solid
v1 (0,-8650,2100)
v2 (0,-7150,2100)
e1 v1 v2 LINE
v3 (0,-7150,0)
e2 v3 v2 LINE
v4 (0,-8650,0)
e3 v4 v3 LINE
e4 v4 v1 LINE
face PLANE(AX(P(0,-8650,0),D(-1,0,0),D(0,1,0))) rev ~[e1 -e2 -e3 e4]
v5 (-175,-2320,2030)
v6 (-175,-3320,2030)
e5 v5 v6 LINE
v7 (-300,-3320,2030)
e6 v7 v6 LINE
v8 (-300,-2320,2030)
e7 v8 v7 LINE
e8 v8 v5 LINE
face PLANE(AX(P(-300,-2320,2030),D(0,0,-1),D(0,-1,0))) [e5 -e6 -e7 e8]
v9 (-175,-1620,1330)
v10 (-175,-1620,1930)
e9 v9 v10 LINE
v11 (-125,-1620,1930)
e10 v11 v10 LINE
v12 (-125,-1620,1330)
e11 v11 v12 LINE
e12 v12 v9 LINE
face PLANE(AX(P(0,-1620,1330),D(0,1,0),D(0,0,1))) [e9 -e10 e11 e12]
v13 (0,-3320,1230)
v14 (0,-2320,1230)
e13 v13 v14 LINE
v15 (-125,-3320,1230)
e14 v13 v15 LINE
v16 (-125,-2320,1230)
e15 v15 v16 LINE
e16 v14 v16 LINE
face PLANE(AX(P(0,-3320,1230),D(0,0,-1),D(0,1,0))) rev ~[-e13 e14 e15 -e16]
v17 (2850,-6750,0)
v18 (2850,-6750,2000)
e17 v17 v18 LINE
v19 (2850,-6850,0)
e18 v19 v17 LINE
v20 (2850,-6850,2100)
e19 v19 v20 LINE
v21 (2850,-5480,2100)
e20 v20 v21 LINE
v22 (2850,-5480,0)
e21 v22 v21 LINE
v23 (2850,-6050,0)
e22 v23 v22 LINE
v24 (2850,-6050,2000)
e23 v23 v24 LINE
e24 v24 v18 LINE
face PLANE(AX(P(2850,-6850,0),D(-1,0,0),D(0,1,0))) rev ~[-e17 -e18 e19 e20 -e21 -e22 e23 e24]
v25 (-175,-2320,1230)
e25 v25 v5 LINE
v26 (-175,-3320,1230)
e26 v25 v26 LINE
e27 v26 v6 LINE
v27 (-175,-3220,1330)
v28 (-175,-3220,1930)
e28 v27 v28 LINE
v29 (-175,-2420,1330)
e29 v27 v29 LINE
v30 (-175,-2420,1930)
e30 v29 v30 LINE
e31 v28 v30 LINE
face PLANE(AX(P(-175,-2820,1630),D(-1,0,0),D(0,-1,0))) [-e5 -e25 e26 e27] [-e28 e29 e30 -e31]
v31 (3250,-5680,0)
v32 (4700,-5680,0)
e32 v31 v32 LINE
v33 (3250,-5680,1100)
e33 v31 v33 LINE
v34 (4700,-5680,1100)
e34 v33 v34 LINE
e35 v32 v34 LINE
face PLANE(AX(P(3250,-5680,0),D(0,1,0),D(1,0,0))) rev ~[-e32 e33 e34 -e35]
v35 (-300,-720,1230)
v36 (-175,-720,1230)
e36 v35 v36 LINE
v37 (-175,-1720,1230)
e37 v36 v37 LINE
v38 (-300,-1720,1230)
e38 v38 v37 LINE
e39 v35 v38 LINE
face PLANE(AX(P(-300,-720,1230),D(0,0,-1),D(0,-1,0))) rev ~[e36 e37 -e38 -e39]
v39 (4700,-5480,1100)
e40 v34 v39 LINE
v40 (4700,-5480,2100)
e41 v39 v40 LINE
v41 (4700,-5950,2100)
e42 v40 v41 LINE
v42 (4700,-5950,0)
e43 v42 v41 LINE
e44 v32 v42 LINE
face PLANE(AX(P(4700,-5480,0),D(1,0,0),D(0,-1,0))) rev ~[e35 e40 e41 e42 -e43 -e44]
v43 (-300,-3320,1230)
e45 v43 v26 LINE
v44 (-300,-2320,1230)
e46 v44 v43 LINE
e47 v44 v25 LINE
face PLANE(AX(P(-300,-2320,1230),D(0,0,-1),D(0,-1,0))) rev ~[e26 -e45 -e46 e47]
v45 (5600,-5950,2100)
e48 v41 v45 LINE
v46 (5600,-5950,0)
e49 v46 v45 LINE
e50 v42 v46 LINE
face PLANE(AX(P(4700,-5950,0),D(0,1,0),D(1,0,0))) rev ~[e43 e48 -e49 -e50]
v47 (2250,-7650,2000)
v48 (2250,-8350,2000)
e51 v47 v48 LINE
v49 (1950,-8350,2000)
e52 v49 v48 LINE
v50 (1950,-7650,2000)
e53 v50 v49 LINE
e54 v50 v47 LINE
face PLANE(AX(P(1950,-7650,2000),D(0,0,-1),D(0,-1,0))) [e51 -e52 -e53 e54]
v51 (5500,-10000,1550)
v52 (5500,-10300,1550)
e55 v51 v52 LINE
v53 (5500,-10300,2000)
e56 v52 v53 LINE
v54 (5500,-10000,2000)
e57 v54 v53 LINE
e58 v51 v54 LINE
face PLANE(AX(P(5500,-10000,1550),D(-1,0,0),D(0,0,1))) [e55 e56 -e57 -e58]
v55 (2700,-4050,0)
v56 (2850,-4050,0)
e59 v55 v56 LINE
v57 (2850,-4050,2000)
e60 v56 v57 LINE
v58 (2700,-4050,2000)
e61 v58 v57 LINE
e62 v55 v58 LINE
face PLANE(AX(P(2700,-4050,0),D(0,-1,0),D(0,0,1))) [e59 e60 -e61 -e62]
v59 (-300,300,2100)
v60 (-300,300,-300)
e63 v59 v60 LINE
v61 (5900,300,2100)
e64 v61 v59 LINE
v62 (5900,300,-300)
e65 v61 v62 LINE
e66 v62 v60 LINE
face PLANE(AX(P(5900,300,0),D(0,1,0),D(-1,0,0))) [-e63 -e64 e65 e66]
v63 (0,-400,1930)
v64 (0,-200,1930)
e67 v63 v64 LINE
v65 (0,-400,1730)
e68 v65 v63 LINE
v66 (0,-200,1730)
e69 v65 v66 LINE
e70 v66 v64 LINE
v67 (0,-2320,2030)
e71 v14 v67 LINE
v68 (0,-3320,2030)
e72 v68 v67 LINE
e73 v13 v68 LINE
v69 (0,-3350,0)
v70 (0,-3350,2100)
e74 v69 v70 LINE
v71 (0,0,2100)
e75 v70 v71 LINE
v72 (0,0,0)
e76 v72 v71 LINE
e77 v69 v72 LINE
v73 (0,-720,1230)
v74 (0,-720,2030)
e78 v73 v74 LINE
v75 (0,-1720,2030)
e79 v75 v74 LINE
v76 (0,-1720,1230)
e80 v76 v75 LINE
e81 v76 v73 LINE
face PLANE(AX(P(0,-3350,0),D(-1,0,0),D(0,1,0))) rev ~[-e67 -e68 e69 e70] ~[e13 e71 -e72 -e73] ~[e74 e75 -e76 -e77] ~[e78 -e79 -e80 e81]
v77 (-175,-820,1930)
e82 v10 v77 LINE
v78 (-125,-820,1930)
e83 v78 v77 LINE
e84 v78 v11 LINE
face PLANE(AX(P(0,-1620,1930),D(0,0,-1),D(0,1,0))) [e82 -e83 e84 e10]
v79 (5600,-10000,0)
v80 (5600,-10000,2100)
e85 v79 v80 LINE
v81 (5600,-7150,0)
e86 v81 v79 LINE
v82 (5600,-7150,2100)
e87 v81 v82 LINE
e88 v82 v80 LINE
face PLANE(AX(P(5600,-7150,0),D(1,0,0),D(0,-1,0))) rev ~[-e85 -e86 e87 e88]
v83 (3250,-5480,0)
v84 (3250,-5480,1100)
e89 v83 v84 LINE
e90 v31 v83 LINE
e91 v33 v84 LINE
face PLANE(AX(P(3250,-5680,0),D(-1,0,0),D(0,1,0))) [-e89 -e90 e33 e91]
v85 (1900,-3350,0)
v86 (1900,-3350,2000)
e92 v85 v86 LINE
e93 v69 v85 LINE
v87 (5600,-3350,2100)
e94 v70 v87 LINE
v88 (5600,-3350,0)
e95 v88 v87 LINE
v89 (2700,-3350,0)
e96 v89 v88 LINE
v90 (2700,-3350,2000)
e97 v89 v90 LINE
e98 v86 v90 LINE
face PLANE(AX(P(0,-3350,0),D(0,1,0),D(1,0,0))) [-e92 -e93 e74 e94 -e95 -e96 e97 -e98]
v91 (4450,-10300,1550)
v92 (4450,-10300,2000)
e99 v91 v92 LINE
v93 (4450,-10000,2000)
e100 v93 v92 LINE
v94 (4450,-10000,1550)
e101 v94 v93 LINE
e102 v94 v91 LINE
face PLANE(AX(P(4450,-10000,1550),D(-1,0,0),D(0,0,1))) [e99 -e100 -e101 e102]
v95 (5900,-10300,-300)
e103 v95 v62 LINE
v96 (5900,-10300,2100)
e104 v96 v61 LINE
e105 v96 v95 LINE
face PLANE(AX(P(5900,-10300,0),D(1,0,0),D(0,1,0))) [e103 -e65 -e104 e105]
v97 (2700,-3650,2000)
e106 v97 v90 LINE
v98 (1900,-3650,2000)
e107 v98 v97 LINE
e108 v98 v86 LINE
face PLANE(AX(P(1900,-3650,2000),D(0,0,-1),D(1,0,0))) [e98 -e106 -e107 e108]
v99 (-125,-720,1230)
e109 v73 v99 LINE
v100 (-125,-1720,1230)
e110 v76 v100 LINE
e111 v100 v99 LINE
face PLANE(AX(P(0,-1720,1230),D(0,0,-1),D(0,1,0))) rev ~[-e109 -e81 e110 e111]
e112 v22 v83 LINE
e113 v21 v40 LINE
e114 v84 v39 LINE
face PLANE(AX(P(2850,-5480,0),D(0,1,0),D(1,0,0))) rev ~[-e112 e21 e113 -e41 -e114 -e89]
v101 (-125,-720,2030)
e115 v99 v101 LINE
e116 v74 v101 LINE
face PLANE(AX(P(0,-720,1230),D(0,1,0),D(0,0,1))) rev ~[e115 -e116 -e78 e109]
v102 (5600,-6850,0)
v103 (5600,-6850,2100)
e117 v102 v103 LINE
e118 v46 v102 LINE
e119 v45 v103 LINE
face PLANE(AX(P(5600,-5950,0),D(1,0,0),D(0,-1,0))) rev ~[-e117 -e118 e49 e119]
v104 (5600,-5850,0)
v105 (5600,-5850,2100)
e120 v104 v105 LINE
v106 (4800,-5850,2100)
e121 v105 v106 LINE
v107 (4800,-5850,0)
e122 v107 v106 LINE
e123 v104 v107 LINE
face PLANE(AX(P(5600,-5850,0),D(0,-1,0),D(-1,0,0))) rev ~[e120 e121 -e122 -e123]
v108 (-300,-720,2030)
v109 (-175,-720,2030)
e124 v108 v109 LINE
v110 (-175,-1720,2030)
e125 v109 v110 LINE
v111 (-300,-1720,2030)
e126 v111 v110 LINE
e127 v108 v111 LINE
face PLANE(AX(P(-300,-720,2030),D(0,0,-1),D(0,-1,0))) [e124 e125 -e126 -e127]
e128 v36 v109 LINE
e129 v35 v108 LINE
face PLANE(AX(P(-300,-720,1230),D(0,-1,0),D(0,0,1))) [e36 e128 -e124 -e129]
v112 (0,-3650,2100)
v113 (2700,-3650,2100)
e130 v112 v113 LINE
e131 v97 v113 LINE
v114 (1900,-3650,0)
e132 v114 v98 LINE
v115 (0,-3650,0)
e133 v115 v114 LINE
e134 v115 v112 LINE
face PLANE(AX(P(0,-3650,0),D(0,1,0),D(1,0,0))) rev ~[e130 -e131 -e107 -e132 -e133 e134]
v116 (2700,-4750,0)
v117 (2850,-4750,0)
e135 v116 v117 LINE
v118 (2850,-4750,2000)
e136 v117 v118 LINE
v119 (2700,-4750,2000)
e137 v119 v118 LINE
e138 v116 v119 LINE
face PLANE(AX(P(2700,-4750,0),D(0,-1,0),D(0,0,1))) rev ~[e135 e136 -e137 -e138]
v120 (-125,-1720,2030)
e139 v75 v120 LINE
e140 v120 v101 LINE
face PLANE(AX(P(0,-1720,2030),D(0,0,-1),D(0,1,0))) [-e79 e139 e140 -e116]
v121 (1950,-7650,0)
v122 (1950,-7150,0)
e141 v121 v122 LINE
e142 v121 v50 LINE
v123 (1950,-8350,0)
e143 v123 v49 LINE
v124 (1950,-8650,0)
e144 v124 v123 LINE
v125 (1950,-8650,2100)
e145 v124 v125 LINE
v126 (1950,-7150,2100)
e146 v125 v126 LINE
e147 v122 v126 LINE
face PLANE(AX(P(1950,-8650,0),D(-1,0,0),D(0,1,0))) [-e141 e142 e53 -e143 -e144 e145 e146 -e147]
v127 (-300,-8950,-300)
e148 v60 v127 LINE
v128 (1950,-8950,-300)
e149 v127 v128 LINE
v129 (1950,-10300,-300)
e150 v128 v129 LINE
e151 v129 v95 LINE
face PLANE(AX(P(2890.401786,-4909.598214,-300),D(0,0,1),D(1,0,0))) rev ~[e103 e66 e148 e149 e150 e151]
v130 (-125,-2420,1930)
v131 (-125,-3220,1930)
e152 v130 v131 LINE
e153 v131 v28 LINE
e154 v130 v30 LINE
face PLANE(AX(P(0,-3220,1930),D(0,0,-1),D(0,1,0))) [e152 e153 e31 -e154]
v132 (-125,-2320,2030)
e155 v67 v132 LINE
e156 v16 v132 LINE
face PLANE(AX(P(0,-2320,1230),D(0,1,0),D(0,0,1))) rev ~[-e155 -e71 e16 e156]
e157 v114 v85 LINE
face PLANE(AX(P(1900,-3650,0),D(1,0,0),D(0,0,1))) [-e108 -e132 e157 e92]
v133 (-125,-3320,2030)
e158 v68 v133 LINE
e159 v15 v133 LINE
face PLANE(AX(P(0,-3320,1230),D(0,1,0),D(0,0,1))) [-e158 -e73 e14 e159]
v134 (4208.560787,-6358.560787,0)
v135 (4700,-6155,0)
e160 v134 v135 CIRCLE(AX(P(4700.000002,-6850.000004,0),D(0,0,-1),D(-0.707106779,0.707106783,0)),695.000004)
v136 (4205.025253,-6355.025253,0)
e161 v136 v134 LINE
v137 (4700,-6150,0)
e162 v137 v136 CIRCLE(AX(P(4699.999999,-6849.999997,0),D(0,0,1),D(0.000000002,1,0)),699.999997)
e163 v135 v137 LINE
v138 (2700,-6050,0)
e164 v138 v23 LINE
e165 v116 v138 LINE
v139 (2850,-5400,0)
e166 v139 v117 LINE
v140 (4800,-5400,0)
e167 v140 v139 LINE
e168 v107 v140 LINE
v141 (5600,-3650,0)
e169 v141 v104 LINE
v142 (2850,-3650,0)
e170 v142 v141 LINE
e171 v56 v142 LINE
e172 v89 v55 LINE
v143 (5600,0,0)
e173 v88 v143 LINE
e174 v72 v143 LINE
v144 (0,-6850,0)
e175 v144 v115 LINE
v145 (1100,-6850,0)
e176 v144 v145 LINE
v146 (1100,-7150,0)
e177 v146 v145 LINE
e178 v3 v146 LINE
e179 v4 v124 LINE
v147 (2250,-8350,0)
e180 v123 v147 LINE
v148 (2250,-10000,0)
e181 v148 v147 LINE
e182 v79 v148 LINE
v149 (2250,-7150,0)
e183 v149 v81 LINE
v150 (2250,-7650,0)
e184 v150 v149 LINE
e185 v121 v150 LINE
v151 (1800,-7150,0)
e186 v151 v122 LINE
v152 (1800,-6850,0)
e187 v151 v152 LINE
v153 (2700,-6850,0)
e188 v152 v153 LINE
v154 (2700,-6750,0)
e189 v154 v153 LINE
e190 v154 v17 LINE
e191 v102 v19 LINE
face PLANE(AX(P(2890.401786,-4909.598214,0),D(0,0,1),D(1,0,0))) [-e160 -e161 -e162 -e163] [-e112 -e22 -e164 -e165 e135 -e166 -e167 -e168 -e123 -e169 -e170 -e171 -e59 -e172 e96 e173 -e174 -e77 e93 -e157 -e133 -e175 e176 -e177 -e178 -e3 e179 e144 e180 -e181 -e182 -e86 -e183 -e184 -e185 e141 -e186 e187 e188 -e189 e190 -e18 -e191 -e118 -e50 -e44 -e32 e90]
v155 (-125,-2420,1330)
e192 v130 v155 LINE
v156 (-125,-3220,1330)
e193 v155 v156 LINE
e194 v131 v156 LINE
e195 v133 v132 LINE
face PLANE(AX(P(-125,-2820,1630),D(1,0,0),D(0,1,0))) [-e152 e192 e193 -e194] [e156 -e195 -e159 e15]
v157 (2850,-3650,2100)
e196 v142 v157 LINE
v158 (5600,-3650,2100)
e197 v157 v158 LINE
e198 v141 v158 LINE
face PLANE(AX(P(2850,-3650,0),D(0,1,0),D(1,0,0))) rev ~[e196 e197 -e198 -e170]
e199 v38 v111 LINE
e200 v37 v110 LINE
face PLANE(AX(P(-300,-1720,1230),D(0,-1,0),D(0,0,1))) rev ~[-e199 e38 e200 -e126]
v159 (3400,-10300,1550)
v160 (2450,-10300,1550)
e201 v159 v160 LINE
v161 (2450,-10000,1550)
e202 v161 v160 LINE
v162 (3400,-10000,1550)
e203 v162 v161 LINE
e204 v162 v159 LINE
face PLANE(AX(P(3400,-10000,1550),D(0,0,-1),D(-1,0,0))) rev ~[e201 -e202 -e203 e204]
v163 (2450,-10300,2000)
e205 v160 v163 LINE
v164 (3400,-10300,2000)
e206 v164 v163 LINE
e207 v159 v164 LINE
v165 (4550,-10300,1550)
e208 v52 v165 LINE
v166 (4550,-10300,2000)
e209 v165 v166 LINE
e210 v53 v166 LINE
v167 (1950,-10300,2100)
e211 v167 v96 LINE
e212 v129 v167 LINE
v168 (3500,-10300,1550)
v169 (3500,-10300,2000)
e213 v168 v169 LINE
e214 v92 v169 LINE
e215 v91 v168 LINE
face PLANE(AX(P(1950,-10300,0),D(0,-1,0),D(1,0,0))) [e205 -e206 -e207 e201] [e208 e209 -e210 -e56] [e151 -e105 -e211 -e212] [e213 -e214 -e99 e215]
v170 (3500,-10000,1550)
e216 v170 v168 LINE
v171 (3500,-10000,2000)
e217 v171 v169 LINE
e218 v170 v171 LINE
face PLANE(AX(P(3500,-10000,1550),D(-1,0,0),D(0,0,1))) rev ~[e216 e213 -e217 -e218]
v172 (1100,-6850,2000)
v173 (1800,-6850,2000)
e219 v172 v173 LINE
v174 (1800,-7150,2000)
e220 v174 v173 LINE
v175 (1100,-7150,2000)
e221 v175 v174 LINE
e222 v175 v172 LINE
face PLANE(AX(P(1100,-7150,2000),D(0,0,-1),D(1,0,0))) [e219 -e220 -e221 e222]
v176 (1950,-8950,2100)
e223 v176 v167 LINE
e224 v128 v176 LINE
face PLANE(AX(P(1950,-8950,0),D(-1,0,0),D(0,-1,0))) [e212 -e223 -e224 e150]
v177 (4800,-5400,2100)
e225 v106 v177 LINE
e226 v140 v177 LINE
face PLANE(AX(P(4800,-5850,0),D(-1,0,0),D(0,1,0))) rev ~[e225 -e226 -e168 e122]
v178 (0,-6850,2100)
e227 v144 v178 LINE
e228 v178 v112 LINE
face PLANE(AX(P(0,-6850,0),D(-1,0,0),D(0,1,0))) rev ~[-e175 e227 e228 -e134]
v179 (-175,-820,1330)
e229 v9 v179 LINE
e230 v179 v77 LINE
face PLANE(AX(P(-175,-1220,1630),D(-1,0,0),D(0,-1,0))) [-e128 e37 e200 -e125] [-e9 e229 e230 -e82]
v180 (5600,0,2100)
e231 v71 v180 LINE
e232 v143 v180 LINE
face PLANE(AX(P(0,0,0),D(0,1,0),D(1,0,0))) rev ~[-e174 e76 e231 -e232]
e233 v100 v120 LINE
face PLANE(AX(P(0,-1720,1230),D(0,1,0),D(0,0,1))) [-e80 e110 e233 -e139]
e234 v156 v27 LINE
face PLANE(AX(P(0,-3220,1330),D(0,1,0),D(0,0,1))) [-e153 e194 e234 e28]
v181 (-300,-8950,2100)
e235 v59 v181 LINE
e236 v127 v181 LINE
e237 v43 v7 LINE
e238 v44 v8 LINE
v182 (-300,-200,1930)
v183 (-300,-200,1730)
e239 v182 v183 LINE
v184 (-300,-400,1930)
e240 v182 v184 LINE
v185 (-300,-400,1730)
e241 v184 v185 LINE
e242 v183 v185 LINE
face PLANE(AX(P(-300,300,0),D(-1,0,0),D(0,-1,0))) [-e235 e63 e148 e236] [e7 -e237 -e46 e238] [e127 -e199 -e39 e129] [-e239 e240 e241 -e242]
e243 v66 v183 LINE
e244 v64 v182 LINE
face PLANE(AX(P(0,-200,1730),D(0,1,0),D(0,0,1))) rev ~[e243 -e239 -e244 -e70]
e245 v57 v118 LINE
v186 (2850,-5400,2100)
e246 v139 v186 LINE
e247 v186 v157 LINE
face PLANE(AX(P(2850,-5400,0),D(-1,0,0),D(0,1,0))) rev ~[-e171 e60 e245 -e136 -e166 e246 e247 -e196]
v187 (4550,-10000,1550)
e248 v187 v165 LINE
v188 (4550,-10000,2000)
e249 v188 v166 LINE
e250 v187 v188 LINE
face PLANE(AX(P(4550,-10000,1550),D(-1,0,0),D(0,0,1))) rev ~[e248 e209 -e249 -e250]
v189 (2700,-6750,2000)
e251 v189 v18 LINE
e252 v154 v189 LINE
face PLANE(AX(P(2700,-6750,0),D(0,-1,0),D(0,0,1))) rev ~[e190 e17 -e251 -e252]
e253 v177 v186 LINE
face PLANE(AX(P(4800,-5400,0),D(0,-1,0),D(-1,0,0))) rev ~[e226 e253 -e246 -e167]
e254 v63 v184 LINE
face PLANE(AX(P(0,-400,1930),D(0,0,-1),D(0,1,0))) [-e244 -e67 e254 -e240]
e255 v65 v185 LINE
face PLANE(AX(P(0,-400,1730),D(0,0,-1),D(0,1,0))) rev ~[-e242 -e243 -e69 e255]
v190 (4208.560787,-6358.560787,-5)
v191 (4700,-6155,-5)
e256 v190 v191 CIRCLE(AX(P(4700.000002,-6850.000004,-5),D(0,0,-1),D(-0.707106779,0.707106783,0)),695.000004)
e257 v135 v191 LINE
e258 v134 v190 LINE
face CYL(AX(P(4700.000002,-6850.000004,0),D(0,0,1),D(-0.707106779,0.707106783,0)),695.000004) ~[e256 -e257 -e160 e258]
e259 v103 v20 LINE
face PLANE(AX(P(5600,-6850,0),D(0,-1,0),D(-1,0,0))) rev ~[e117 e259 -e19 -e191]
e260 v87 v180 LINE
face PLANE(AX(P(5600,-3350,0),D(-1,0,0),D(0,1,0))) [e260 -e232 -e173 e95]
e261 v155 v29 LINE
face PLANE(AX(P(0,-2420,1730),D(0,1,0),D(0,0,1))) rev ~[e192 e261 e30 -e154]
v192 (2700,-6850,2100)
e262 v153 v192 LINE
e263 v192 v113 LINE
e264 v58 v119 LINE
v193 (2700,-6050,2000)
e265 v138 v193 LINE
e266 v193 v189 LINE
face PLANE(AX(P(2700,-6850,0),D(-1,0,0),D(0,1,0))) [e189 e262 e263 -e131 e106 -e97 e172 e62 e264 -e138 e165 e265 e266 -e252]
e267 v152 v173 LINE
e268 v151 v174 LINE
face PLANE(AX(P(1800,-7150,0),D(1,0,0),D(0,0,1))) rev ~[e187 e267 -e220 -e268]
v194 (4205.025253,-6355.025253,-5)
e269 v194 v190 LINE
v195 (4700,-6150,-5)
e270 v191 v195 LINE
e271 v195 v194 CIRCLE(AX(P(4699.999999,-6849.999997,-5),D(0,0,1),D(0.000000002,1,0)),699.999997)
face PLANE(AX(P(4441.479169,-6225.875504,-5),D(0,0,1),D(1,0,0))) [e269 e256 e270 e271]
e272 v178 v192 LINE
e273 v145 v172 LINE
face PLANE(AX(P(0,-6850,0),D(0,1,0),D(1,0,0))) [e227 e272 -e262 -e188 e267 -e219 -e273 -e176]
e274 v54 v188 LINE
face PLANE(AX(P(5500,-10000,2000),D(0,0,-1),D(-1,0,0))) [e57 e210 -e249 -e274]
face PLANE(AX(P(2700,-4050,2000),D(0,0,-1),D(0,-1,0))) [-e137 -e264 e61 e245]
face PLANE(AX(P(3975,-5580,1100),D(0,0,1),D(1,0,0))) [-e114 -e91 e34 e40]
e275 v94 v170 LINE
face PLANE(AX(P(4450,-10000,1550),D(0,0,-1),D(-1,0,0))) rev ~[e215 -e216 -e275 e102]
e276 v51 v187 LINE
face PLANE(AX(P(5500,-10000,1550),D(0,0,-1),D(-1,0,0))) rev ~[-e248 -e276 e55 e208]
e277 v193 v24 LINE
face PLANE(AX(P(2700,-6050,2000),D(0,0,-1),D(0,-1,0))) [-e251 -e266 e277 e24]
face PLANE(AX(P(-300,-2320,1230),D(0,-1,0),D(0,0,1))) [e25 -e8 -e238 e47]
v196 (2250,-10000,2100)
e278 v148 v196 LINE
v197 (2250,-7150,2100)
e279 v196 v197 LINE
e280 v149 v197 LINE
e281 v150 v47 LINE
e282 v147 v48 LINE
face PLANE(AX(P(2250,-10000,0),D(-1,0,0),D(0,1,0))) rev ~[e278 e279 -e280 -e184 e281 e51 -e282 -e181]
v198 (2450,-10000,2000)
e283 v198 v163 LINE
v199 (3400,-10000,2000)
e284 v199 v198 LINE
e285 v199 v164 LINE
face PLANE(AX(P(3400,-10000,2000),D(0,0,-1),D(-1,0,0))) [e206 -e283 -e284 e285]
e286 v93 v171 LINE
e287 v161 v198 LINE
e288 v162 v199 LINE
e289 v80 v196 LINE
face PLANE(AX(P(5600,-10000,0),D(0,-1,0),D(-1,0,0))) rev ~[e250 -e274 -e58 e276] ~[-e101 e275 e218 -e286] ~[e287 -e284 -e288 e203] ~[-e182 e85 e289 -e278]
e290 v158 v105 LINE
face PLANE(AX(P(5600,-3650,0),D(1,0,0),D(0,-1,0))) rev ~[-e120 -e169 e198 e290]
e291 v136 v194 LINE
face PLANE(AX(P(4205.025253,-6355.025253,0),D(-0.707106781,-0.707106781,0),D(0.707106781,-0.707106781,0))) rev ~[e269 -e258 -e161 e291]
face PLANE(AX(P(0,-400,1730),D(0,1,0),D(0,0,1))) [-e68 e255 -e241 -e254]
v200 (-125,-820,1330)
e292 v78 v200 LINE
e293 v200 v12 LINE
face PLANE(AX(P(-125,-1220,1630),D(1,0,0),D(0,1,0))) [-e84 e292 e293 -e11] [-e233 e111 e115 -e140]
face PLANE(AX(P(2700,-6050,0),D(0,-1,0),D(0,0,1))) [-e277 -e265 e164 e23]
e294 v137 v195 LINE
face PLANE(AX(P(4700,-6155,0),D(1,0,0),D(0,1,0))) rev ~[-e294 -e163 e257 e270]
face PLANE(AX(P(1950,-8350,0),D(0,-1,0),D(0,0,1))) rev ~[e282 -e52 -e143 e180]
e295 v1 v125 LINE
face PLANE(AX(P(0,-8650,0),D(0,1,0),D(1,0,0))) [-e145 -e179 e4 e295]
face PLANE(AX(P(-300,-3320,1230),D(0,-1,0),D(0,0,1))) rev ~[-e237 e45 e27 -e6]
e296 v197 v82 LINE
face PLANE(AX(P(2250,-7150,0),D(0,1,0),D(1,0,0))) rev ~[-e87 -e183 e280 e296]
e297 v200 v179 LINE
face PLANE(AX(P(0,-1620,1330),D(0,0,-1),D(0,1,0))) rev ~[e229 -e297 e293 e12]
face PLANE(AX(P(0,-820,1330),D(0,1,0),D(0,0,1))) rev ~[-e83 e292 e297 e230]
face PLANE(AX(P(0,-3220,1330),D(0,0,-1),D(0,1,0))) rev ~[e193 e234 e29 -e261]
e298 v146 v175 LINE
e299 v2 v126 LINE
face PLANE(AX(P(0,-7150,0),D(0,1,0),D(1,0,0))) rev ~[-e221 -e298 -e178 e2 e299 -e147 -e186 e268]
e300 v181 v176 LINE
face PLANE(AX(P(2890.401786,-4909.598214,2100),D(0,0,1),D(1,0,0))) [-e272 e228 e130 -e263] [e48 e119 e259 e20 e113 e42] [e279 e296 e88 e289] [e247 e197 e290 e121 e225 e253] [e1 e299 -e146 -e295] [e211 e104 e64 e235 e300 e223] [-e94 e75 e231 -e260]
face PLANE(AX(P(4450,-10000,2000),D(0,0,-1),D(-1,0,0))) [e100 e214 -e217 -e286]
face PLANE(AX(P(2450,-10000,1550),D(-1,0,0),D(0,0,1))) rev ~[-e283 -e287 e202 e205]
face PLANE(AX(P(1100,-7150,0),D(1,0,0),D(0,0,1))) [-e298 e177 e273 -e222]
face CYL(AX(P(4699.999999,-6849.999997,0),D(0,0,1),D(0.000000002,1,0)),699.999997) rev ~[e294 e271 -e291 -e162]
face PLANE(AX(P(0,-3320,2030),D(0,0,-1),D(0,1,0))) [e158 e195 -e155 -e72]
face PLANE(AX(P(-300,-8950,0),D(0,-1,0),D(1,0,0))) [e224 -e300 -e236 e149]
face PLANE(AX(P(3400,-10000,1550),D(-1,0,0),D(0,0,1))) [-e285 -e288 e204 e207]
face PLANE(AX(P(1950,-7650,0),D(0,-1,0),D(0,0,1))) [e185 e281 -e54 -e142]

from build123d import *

# Parameters (mm, degrees)
F0_W      = 1950
F0_H      = 1500
F0_W_2    = 2700
F0_H_2    = 3200
F0_W_3    = 5600
F0_H_3    = 3350
F1_DEPTH  = 2100
F3_DEPTH  = 300
F4_W      = 950
F4_H      = 450
F5_DEPTH  = 300
F6_W      = 700
F6_H      = 2000
F7_DEPTH  = 300
F8_W      = 700
F8_H      = 2000
F9_DEPTH  = 300
F10_W     = 800
F10_H     = 2000
F11_DEPTH = 300
F12_W     = 700
F12_H     = 2000
F13_DEPTH = 150
F14_W     = 800
F14_H     = 200
F14_W_2   = 200
F15_DEPTH = 300.001
F16_W     = 800
F16_H     = 600
F16_W_2   = 200
F16_H_2   = 200
F17_DEPTH = 300.001
F18_W     = 1000
F18_H     = 800
F19_DEPTH = 125
F20_W     = 1000
F20_H     = 800
F21_DEPTH = 125
F22_W     = 1450
F22_H     = 200
F23_DEPTH = 1100
F25_DEPTH = 5


with BuildPart() as f1:
    # F0 (on Top) → F1 (new body)
    with BuildSketch(Plane.XY):
        Polygon((5900, -10300), (5900, 300), (-300, 300), (-300, -8950), (1950, -8950), (1950, -10300), align=None)
        with Locations((975, -7900)):
            Rectangle(F0_W, F0_H, mode=Mode.SUBTRACT)
        with Locations((1350, -5250)):
            Rectangle(F0_W_2, F0_H_2, mode=Mode.SUBTRACT)
        Polygon((5600, -7150), (5600, -8650), (5600, -10000), (2250, -10000), (2250, -8650), (2250, -7150), align=None, mode=Mode.SUBTRACT)
        Polygon((5600, -6850), (2850, -6850), (2850, -5480), (4700, -5480), (4700, -5950), (5600, -5950), align=None, mode=Mode.SUBTRACT)
        Polygon((2850, -5400), (2850, -3650), (5600, -3650), (5600, -5850), (4800, -5850), (4800, -5400), align=None, mode=Mode.SUBTRACT)
        with Locations((2800, -1675)):
            Rectangle(F0_W_3, F0_H_3, mode=Mode.SUBTRACT)
    extrude(amount=F1_DEPTH)

    # F2 (on face) → F3 (join)
    with BuildSketch(Plane.XY):
        Polygon((-300, 300), (-300, -8950), (1950, -8950), (1950, -10300), (5900, -10300), (5900, 300), align=None)
    extrude(amount=-F3_DEPTH)

    # F4 (on face) → F5 (cut, through all)
    with BuildSketch(Plane(origin=(0, -10000, 0), x_dir=(-1, 0, 0), z_dir=(0, 1, 0))):
        with Locations((-5025, 1775)):
            Rectangle(F4_W, F4_H)
        with Locations((-3975, 1775)):
            Rectangle(F4_W, F4_H)
        with Locations((-2925, 1775)):
            Rectangle(F4_W, F4_H)
    extrude(amount=-F5_DEPTH, mode=Mode.SUBTRACT)

    # F6 (on face) → F7 (cut, through all)
    with BuildSketch(Plane.XZ.offset(7150)):
        with Locations((1450, 1000)):
            Rectangle(F6_W, F6_H)
    extrude(amount=-F7_DEPTH, mode=Mode.SUBTRACT)

    # F8 (on face) → F9 (cut, through all)
    with BuildSketch(Plane(origin=(1950, 0, 0), x_dir=(0, -1, 0), z_dir=(-1, 0, 0))):
        with Locations((8000, 1000)):
            Rectangle(F8_W, F8_H)
    extrude(amount=-F9_DEPTH, mode=Mode.SUBTRACT)

    # F10 (on face) → F11 (cut, through all)
    with BuildSketch(Plane.XZ.offset(3650)):
        with Locations((2300, 1000)):
            Rectangle(F10_W, F10_H)
    extrude(amount=-F11_DEPTH, mode=Mode.SUBTRACT)

    # F12 (on face) → F13 (cut, through all)
    with BuildSketch(Plane(origin=(2700, 0, 0), x_dir=(0, -1, 0), z_dir=(-1, 0, 0))):
        with Locations((6400, 1000)):
            Rectangle(F12_W, F12_H)
        with Locations((4400, 1000)):
            Rectangle(F12_W, F12_H)
    extrude(amount=-F13_DEPTH, mode=Mode.SUBTRACT)

    # F14 (on face) → F15 (cut, through all)
    with BuildSketch(Plane.YZ):
        with Locations((-2820, 1830)):
            Rectangle(F14_W, F14_H)
        with Locations((-300, 1830)):
            Rectangle(F14_W_2, F14_H)
    extrude(amount=-F15_DEPTH, mode=Mode.SUBTRACT)

    # F16 (on face) → F17 (cut, through all)
    with BuildSketch(Plane.YZ):
        with Locations((-2820, 1630)):
            Rectangle(F16_W, F16_H)
        with Locations((-1220, 1630)):
            Rectangle(F16_W, F16_H)
        with Locations((-300, 1830)):
            Rectangle(F16_W_2, F16_H_2)
    extrude(amount=-F17_DEPTH, mode=Mode.SUBTRACT)

    # F18 (on face) → F19 (cut)
    with BuildSketch(Plane.YZ):
        with Locations((-2820, 1630)):
            Rectangle(F18_W, F18_H)
        with Locations((-1220, 1630)):
            Rectangle(F18_W, F18_H)
    extrude(amount=-F19_DEPTH, mode=Mode.SUBTRACT)

    # F20 (on face) → F21 (cut)
    with BuildSketch(Plane(origin=(-300, 0, 0), x_dir=(0, -1, 0), z_dir=(-1, 0, 0))):
        with Locations((2820, 1630)):
            Rectangle(F20_W, F20_H)
        with Locations((1220, 1630)):
            Rectangle(F20_W, F20_H)
    extrude(amount=-F21_DEPTH, mode=Mode.SUBTRACT)

    # F22 (on face) → F23 (join)
    with BuildSketch(Plane.XY):
        with Locations((3975, -5580)):
            Rectangle(F22_W, F22_H)
    extrude(amount=F23_DEPTH)

    # F24 (on face) → F25 (cut)
    with BuildSketch(Plane.XY):
        with BuildLine():
            ThreePointArc((4700, -6150), (4432.121597, -6203.284327), (4205.025253, -6355.025253))
            Line((4205.025253, -6355.025253), (4208.560787, -6358.560787))
            ThreePointArc((4208.560787, -6358.560787), (4434.035015, -6207.903725), (4700, -6155))
            Line((4700, -6155), (4700, -6150))
        make_face()
    extrude(amount=-F25_DEPTH, mode=Mode.SUBTRACT)


solid = f1.part
